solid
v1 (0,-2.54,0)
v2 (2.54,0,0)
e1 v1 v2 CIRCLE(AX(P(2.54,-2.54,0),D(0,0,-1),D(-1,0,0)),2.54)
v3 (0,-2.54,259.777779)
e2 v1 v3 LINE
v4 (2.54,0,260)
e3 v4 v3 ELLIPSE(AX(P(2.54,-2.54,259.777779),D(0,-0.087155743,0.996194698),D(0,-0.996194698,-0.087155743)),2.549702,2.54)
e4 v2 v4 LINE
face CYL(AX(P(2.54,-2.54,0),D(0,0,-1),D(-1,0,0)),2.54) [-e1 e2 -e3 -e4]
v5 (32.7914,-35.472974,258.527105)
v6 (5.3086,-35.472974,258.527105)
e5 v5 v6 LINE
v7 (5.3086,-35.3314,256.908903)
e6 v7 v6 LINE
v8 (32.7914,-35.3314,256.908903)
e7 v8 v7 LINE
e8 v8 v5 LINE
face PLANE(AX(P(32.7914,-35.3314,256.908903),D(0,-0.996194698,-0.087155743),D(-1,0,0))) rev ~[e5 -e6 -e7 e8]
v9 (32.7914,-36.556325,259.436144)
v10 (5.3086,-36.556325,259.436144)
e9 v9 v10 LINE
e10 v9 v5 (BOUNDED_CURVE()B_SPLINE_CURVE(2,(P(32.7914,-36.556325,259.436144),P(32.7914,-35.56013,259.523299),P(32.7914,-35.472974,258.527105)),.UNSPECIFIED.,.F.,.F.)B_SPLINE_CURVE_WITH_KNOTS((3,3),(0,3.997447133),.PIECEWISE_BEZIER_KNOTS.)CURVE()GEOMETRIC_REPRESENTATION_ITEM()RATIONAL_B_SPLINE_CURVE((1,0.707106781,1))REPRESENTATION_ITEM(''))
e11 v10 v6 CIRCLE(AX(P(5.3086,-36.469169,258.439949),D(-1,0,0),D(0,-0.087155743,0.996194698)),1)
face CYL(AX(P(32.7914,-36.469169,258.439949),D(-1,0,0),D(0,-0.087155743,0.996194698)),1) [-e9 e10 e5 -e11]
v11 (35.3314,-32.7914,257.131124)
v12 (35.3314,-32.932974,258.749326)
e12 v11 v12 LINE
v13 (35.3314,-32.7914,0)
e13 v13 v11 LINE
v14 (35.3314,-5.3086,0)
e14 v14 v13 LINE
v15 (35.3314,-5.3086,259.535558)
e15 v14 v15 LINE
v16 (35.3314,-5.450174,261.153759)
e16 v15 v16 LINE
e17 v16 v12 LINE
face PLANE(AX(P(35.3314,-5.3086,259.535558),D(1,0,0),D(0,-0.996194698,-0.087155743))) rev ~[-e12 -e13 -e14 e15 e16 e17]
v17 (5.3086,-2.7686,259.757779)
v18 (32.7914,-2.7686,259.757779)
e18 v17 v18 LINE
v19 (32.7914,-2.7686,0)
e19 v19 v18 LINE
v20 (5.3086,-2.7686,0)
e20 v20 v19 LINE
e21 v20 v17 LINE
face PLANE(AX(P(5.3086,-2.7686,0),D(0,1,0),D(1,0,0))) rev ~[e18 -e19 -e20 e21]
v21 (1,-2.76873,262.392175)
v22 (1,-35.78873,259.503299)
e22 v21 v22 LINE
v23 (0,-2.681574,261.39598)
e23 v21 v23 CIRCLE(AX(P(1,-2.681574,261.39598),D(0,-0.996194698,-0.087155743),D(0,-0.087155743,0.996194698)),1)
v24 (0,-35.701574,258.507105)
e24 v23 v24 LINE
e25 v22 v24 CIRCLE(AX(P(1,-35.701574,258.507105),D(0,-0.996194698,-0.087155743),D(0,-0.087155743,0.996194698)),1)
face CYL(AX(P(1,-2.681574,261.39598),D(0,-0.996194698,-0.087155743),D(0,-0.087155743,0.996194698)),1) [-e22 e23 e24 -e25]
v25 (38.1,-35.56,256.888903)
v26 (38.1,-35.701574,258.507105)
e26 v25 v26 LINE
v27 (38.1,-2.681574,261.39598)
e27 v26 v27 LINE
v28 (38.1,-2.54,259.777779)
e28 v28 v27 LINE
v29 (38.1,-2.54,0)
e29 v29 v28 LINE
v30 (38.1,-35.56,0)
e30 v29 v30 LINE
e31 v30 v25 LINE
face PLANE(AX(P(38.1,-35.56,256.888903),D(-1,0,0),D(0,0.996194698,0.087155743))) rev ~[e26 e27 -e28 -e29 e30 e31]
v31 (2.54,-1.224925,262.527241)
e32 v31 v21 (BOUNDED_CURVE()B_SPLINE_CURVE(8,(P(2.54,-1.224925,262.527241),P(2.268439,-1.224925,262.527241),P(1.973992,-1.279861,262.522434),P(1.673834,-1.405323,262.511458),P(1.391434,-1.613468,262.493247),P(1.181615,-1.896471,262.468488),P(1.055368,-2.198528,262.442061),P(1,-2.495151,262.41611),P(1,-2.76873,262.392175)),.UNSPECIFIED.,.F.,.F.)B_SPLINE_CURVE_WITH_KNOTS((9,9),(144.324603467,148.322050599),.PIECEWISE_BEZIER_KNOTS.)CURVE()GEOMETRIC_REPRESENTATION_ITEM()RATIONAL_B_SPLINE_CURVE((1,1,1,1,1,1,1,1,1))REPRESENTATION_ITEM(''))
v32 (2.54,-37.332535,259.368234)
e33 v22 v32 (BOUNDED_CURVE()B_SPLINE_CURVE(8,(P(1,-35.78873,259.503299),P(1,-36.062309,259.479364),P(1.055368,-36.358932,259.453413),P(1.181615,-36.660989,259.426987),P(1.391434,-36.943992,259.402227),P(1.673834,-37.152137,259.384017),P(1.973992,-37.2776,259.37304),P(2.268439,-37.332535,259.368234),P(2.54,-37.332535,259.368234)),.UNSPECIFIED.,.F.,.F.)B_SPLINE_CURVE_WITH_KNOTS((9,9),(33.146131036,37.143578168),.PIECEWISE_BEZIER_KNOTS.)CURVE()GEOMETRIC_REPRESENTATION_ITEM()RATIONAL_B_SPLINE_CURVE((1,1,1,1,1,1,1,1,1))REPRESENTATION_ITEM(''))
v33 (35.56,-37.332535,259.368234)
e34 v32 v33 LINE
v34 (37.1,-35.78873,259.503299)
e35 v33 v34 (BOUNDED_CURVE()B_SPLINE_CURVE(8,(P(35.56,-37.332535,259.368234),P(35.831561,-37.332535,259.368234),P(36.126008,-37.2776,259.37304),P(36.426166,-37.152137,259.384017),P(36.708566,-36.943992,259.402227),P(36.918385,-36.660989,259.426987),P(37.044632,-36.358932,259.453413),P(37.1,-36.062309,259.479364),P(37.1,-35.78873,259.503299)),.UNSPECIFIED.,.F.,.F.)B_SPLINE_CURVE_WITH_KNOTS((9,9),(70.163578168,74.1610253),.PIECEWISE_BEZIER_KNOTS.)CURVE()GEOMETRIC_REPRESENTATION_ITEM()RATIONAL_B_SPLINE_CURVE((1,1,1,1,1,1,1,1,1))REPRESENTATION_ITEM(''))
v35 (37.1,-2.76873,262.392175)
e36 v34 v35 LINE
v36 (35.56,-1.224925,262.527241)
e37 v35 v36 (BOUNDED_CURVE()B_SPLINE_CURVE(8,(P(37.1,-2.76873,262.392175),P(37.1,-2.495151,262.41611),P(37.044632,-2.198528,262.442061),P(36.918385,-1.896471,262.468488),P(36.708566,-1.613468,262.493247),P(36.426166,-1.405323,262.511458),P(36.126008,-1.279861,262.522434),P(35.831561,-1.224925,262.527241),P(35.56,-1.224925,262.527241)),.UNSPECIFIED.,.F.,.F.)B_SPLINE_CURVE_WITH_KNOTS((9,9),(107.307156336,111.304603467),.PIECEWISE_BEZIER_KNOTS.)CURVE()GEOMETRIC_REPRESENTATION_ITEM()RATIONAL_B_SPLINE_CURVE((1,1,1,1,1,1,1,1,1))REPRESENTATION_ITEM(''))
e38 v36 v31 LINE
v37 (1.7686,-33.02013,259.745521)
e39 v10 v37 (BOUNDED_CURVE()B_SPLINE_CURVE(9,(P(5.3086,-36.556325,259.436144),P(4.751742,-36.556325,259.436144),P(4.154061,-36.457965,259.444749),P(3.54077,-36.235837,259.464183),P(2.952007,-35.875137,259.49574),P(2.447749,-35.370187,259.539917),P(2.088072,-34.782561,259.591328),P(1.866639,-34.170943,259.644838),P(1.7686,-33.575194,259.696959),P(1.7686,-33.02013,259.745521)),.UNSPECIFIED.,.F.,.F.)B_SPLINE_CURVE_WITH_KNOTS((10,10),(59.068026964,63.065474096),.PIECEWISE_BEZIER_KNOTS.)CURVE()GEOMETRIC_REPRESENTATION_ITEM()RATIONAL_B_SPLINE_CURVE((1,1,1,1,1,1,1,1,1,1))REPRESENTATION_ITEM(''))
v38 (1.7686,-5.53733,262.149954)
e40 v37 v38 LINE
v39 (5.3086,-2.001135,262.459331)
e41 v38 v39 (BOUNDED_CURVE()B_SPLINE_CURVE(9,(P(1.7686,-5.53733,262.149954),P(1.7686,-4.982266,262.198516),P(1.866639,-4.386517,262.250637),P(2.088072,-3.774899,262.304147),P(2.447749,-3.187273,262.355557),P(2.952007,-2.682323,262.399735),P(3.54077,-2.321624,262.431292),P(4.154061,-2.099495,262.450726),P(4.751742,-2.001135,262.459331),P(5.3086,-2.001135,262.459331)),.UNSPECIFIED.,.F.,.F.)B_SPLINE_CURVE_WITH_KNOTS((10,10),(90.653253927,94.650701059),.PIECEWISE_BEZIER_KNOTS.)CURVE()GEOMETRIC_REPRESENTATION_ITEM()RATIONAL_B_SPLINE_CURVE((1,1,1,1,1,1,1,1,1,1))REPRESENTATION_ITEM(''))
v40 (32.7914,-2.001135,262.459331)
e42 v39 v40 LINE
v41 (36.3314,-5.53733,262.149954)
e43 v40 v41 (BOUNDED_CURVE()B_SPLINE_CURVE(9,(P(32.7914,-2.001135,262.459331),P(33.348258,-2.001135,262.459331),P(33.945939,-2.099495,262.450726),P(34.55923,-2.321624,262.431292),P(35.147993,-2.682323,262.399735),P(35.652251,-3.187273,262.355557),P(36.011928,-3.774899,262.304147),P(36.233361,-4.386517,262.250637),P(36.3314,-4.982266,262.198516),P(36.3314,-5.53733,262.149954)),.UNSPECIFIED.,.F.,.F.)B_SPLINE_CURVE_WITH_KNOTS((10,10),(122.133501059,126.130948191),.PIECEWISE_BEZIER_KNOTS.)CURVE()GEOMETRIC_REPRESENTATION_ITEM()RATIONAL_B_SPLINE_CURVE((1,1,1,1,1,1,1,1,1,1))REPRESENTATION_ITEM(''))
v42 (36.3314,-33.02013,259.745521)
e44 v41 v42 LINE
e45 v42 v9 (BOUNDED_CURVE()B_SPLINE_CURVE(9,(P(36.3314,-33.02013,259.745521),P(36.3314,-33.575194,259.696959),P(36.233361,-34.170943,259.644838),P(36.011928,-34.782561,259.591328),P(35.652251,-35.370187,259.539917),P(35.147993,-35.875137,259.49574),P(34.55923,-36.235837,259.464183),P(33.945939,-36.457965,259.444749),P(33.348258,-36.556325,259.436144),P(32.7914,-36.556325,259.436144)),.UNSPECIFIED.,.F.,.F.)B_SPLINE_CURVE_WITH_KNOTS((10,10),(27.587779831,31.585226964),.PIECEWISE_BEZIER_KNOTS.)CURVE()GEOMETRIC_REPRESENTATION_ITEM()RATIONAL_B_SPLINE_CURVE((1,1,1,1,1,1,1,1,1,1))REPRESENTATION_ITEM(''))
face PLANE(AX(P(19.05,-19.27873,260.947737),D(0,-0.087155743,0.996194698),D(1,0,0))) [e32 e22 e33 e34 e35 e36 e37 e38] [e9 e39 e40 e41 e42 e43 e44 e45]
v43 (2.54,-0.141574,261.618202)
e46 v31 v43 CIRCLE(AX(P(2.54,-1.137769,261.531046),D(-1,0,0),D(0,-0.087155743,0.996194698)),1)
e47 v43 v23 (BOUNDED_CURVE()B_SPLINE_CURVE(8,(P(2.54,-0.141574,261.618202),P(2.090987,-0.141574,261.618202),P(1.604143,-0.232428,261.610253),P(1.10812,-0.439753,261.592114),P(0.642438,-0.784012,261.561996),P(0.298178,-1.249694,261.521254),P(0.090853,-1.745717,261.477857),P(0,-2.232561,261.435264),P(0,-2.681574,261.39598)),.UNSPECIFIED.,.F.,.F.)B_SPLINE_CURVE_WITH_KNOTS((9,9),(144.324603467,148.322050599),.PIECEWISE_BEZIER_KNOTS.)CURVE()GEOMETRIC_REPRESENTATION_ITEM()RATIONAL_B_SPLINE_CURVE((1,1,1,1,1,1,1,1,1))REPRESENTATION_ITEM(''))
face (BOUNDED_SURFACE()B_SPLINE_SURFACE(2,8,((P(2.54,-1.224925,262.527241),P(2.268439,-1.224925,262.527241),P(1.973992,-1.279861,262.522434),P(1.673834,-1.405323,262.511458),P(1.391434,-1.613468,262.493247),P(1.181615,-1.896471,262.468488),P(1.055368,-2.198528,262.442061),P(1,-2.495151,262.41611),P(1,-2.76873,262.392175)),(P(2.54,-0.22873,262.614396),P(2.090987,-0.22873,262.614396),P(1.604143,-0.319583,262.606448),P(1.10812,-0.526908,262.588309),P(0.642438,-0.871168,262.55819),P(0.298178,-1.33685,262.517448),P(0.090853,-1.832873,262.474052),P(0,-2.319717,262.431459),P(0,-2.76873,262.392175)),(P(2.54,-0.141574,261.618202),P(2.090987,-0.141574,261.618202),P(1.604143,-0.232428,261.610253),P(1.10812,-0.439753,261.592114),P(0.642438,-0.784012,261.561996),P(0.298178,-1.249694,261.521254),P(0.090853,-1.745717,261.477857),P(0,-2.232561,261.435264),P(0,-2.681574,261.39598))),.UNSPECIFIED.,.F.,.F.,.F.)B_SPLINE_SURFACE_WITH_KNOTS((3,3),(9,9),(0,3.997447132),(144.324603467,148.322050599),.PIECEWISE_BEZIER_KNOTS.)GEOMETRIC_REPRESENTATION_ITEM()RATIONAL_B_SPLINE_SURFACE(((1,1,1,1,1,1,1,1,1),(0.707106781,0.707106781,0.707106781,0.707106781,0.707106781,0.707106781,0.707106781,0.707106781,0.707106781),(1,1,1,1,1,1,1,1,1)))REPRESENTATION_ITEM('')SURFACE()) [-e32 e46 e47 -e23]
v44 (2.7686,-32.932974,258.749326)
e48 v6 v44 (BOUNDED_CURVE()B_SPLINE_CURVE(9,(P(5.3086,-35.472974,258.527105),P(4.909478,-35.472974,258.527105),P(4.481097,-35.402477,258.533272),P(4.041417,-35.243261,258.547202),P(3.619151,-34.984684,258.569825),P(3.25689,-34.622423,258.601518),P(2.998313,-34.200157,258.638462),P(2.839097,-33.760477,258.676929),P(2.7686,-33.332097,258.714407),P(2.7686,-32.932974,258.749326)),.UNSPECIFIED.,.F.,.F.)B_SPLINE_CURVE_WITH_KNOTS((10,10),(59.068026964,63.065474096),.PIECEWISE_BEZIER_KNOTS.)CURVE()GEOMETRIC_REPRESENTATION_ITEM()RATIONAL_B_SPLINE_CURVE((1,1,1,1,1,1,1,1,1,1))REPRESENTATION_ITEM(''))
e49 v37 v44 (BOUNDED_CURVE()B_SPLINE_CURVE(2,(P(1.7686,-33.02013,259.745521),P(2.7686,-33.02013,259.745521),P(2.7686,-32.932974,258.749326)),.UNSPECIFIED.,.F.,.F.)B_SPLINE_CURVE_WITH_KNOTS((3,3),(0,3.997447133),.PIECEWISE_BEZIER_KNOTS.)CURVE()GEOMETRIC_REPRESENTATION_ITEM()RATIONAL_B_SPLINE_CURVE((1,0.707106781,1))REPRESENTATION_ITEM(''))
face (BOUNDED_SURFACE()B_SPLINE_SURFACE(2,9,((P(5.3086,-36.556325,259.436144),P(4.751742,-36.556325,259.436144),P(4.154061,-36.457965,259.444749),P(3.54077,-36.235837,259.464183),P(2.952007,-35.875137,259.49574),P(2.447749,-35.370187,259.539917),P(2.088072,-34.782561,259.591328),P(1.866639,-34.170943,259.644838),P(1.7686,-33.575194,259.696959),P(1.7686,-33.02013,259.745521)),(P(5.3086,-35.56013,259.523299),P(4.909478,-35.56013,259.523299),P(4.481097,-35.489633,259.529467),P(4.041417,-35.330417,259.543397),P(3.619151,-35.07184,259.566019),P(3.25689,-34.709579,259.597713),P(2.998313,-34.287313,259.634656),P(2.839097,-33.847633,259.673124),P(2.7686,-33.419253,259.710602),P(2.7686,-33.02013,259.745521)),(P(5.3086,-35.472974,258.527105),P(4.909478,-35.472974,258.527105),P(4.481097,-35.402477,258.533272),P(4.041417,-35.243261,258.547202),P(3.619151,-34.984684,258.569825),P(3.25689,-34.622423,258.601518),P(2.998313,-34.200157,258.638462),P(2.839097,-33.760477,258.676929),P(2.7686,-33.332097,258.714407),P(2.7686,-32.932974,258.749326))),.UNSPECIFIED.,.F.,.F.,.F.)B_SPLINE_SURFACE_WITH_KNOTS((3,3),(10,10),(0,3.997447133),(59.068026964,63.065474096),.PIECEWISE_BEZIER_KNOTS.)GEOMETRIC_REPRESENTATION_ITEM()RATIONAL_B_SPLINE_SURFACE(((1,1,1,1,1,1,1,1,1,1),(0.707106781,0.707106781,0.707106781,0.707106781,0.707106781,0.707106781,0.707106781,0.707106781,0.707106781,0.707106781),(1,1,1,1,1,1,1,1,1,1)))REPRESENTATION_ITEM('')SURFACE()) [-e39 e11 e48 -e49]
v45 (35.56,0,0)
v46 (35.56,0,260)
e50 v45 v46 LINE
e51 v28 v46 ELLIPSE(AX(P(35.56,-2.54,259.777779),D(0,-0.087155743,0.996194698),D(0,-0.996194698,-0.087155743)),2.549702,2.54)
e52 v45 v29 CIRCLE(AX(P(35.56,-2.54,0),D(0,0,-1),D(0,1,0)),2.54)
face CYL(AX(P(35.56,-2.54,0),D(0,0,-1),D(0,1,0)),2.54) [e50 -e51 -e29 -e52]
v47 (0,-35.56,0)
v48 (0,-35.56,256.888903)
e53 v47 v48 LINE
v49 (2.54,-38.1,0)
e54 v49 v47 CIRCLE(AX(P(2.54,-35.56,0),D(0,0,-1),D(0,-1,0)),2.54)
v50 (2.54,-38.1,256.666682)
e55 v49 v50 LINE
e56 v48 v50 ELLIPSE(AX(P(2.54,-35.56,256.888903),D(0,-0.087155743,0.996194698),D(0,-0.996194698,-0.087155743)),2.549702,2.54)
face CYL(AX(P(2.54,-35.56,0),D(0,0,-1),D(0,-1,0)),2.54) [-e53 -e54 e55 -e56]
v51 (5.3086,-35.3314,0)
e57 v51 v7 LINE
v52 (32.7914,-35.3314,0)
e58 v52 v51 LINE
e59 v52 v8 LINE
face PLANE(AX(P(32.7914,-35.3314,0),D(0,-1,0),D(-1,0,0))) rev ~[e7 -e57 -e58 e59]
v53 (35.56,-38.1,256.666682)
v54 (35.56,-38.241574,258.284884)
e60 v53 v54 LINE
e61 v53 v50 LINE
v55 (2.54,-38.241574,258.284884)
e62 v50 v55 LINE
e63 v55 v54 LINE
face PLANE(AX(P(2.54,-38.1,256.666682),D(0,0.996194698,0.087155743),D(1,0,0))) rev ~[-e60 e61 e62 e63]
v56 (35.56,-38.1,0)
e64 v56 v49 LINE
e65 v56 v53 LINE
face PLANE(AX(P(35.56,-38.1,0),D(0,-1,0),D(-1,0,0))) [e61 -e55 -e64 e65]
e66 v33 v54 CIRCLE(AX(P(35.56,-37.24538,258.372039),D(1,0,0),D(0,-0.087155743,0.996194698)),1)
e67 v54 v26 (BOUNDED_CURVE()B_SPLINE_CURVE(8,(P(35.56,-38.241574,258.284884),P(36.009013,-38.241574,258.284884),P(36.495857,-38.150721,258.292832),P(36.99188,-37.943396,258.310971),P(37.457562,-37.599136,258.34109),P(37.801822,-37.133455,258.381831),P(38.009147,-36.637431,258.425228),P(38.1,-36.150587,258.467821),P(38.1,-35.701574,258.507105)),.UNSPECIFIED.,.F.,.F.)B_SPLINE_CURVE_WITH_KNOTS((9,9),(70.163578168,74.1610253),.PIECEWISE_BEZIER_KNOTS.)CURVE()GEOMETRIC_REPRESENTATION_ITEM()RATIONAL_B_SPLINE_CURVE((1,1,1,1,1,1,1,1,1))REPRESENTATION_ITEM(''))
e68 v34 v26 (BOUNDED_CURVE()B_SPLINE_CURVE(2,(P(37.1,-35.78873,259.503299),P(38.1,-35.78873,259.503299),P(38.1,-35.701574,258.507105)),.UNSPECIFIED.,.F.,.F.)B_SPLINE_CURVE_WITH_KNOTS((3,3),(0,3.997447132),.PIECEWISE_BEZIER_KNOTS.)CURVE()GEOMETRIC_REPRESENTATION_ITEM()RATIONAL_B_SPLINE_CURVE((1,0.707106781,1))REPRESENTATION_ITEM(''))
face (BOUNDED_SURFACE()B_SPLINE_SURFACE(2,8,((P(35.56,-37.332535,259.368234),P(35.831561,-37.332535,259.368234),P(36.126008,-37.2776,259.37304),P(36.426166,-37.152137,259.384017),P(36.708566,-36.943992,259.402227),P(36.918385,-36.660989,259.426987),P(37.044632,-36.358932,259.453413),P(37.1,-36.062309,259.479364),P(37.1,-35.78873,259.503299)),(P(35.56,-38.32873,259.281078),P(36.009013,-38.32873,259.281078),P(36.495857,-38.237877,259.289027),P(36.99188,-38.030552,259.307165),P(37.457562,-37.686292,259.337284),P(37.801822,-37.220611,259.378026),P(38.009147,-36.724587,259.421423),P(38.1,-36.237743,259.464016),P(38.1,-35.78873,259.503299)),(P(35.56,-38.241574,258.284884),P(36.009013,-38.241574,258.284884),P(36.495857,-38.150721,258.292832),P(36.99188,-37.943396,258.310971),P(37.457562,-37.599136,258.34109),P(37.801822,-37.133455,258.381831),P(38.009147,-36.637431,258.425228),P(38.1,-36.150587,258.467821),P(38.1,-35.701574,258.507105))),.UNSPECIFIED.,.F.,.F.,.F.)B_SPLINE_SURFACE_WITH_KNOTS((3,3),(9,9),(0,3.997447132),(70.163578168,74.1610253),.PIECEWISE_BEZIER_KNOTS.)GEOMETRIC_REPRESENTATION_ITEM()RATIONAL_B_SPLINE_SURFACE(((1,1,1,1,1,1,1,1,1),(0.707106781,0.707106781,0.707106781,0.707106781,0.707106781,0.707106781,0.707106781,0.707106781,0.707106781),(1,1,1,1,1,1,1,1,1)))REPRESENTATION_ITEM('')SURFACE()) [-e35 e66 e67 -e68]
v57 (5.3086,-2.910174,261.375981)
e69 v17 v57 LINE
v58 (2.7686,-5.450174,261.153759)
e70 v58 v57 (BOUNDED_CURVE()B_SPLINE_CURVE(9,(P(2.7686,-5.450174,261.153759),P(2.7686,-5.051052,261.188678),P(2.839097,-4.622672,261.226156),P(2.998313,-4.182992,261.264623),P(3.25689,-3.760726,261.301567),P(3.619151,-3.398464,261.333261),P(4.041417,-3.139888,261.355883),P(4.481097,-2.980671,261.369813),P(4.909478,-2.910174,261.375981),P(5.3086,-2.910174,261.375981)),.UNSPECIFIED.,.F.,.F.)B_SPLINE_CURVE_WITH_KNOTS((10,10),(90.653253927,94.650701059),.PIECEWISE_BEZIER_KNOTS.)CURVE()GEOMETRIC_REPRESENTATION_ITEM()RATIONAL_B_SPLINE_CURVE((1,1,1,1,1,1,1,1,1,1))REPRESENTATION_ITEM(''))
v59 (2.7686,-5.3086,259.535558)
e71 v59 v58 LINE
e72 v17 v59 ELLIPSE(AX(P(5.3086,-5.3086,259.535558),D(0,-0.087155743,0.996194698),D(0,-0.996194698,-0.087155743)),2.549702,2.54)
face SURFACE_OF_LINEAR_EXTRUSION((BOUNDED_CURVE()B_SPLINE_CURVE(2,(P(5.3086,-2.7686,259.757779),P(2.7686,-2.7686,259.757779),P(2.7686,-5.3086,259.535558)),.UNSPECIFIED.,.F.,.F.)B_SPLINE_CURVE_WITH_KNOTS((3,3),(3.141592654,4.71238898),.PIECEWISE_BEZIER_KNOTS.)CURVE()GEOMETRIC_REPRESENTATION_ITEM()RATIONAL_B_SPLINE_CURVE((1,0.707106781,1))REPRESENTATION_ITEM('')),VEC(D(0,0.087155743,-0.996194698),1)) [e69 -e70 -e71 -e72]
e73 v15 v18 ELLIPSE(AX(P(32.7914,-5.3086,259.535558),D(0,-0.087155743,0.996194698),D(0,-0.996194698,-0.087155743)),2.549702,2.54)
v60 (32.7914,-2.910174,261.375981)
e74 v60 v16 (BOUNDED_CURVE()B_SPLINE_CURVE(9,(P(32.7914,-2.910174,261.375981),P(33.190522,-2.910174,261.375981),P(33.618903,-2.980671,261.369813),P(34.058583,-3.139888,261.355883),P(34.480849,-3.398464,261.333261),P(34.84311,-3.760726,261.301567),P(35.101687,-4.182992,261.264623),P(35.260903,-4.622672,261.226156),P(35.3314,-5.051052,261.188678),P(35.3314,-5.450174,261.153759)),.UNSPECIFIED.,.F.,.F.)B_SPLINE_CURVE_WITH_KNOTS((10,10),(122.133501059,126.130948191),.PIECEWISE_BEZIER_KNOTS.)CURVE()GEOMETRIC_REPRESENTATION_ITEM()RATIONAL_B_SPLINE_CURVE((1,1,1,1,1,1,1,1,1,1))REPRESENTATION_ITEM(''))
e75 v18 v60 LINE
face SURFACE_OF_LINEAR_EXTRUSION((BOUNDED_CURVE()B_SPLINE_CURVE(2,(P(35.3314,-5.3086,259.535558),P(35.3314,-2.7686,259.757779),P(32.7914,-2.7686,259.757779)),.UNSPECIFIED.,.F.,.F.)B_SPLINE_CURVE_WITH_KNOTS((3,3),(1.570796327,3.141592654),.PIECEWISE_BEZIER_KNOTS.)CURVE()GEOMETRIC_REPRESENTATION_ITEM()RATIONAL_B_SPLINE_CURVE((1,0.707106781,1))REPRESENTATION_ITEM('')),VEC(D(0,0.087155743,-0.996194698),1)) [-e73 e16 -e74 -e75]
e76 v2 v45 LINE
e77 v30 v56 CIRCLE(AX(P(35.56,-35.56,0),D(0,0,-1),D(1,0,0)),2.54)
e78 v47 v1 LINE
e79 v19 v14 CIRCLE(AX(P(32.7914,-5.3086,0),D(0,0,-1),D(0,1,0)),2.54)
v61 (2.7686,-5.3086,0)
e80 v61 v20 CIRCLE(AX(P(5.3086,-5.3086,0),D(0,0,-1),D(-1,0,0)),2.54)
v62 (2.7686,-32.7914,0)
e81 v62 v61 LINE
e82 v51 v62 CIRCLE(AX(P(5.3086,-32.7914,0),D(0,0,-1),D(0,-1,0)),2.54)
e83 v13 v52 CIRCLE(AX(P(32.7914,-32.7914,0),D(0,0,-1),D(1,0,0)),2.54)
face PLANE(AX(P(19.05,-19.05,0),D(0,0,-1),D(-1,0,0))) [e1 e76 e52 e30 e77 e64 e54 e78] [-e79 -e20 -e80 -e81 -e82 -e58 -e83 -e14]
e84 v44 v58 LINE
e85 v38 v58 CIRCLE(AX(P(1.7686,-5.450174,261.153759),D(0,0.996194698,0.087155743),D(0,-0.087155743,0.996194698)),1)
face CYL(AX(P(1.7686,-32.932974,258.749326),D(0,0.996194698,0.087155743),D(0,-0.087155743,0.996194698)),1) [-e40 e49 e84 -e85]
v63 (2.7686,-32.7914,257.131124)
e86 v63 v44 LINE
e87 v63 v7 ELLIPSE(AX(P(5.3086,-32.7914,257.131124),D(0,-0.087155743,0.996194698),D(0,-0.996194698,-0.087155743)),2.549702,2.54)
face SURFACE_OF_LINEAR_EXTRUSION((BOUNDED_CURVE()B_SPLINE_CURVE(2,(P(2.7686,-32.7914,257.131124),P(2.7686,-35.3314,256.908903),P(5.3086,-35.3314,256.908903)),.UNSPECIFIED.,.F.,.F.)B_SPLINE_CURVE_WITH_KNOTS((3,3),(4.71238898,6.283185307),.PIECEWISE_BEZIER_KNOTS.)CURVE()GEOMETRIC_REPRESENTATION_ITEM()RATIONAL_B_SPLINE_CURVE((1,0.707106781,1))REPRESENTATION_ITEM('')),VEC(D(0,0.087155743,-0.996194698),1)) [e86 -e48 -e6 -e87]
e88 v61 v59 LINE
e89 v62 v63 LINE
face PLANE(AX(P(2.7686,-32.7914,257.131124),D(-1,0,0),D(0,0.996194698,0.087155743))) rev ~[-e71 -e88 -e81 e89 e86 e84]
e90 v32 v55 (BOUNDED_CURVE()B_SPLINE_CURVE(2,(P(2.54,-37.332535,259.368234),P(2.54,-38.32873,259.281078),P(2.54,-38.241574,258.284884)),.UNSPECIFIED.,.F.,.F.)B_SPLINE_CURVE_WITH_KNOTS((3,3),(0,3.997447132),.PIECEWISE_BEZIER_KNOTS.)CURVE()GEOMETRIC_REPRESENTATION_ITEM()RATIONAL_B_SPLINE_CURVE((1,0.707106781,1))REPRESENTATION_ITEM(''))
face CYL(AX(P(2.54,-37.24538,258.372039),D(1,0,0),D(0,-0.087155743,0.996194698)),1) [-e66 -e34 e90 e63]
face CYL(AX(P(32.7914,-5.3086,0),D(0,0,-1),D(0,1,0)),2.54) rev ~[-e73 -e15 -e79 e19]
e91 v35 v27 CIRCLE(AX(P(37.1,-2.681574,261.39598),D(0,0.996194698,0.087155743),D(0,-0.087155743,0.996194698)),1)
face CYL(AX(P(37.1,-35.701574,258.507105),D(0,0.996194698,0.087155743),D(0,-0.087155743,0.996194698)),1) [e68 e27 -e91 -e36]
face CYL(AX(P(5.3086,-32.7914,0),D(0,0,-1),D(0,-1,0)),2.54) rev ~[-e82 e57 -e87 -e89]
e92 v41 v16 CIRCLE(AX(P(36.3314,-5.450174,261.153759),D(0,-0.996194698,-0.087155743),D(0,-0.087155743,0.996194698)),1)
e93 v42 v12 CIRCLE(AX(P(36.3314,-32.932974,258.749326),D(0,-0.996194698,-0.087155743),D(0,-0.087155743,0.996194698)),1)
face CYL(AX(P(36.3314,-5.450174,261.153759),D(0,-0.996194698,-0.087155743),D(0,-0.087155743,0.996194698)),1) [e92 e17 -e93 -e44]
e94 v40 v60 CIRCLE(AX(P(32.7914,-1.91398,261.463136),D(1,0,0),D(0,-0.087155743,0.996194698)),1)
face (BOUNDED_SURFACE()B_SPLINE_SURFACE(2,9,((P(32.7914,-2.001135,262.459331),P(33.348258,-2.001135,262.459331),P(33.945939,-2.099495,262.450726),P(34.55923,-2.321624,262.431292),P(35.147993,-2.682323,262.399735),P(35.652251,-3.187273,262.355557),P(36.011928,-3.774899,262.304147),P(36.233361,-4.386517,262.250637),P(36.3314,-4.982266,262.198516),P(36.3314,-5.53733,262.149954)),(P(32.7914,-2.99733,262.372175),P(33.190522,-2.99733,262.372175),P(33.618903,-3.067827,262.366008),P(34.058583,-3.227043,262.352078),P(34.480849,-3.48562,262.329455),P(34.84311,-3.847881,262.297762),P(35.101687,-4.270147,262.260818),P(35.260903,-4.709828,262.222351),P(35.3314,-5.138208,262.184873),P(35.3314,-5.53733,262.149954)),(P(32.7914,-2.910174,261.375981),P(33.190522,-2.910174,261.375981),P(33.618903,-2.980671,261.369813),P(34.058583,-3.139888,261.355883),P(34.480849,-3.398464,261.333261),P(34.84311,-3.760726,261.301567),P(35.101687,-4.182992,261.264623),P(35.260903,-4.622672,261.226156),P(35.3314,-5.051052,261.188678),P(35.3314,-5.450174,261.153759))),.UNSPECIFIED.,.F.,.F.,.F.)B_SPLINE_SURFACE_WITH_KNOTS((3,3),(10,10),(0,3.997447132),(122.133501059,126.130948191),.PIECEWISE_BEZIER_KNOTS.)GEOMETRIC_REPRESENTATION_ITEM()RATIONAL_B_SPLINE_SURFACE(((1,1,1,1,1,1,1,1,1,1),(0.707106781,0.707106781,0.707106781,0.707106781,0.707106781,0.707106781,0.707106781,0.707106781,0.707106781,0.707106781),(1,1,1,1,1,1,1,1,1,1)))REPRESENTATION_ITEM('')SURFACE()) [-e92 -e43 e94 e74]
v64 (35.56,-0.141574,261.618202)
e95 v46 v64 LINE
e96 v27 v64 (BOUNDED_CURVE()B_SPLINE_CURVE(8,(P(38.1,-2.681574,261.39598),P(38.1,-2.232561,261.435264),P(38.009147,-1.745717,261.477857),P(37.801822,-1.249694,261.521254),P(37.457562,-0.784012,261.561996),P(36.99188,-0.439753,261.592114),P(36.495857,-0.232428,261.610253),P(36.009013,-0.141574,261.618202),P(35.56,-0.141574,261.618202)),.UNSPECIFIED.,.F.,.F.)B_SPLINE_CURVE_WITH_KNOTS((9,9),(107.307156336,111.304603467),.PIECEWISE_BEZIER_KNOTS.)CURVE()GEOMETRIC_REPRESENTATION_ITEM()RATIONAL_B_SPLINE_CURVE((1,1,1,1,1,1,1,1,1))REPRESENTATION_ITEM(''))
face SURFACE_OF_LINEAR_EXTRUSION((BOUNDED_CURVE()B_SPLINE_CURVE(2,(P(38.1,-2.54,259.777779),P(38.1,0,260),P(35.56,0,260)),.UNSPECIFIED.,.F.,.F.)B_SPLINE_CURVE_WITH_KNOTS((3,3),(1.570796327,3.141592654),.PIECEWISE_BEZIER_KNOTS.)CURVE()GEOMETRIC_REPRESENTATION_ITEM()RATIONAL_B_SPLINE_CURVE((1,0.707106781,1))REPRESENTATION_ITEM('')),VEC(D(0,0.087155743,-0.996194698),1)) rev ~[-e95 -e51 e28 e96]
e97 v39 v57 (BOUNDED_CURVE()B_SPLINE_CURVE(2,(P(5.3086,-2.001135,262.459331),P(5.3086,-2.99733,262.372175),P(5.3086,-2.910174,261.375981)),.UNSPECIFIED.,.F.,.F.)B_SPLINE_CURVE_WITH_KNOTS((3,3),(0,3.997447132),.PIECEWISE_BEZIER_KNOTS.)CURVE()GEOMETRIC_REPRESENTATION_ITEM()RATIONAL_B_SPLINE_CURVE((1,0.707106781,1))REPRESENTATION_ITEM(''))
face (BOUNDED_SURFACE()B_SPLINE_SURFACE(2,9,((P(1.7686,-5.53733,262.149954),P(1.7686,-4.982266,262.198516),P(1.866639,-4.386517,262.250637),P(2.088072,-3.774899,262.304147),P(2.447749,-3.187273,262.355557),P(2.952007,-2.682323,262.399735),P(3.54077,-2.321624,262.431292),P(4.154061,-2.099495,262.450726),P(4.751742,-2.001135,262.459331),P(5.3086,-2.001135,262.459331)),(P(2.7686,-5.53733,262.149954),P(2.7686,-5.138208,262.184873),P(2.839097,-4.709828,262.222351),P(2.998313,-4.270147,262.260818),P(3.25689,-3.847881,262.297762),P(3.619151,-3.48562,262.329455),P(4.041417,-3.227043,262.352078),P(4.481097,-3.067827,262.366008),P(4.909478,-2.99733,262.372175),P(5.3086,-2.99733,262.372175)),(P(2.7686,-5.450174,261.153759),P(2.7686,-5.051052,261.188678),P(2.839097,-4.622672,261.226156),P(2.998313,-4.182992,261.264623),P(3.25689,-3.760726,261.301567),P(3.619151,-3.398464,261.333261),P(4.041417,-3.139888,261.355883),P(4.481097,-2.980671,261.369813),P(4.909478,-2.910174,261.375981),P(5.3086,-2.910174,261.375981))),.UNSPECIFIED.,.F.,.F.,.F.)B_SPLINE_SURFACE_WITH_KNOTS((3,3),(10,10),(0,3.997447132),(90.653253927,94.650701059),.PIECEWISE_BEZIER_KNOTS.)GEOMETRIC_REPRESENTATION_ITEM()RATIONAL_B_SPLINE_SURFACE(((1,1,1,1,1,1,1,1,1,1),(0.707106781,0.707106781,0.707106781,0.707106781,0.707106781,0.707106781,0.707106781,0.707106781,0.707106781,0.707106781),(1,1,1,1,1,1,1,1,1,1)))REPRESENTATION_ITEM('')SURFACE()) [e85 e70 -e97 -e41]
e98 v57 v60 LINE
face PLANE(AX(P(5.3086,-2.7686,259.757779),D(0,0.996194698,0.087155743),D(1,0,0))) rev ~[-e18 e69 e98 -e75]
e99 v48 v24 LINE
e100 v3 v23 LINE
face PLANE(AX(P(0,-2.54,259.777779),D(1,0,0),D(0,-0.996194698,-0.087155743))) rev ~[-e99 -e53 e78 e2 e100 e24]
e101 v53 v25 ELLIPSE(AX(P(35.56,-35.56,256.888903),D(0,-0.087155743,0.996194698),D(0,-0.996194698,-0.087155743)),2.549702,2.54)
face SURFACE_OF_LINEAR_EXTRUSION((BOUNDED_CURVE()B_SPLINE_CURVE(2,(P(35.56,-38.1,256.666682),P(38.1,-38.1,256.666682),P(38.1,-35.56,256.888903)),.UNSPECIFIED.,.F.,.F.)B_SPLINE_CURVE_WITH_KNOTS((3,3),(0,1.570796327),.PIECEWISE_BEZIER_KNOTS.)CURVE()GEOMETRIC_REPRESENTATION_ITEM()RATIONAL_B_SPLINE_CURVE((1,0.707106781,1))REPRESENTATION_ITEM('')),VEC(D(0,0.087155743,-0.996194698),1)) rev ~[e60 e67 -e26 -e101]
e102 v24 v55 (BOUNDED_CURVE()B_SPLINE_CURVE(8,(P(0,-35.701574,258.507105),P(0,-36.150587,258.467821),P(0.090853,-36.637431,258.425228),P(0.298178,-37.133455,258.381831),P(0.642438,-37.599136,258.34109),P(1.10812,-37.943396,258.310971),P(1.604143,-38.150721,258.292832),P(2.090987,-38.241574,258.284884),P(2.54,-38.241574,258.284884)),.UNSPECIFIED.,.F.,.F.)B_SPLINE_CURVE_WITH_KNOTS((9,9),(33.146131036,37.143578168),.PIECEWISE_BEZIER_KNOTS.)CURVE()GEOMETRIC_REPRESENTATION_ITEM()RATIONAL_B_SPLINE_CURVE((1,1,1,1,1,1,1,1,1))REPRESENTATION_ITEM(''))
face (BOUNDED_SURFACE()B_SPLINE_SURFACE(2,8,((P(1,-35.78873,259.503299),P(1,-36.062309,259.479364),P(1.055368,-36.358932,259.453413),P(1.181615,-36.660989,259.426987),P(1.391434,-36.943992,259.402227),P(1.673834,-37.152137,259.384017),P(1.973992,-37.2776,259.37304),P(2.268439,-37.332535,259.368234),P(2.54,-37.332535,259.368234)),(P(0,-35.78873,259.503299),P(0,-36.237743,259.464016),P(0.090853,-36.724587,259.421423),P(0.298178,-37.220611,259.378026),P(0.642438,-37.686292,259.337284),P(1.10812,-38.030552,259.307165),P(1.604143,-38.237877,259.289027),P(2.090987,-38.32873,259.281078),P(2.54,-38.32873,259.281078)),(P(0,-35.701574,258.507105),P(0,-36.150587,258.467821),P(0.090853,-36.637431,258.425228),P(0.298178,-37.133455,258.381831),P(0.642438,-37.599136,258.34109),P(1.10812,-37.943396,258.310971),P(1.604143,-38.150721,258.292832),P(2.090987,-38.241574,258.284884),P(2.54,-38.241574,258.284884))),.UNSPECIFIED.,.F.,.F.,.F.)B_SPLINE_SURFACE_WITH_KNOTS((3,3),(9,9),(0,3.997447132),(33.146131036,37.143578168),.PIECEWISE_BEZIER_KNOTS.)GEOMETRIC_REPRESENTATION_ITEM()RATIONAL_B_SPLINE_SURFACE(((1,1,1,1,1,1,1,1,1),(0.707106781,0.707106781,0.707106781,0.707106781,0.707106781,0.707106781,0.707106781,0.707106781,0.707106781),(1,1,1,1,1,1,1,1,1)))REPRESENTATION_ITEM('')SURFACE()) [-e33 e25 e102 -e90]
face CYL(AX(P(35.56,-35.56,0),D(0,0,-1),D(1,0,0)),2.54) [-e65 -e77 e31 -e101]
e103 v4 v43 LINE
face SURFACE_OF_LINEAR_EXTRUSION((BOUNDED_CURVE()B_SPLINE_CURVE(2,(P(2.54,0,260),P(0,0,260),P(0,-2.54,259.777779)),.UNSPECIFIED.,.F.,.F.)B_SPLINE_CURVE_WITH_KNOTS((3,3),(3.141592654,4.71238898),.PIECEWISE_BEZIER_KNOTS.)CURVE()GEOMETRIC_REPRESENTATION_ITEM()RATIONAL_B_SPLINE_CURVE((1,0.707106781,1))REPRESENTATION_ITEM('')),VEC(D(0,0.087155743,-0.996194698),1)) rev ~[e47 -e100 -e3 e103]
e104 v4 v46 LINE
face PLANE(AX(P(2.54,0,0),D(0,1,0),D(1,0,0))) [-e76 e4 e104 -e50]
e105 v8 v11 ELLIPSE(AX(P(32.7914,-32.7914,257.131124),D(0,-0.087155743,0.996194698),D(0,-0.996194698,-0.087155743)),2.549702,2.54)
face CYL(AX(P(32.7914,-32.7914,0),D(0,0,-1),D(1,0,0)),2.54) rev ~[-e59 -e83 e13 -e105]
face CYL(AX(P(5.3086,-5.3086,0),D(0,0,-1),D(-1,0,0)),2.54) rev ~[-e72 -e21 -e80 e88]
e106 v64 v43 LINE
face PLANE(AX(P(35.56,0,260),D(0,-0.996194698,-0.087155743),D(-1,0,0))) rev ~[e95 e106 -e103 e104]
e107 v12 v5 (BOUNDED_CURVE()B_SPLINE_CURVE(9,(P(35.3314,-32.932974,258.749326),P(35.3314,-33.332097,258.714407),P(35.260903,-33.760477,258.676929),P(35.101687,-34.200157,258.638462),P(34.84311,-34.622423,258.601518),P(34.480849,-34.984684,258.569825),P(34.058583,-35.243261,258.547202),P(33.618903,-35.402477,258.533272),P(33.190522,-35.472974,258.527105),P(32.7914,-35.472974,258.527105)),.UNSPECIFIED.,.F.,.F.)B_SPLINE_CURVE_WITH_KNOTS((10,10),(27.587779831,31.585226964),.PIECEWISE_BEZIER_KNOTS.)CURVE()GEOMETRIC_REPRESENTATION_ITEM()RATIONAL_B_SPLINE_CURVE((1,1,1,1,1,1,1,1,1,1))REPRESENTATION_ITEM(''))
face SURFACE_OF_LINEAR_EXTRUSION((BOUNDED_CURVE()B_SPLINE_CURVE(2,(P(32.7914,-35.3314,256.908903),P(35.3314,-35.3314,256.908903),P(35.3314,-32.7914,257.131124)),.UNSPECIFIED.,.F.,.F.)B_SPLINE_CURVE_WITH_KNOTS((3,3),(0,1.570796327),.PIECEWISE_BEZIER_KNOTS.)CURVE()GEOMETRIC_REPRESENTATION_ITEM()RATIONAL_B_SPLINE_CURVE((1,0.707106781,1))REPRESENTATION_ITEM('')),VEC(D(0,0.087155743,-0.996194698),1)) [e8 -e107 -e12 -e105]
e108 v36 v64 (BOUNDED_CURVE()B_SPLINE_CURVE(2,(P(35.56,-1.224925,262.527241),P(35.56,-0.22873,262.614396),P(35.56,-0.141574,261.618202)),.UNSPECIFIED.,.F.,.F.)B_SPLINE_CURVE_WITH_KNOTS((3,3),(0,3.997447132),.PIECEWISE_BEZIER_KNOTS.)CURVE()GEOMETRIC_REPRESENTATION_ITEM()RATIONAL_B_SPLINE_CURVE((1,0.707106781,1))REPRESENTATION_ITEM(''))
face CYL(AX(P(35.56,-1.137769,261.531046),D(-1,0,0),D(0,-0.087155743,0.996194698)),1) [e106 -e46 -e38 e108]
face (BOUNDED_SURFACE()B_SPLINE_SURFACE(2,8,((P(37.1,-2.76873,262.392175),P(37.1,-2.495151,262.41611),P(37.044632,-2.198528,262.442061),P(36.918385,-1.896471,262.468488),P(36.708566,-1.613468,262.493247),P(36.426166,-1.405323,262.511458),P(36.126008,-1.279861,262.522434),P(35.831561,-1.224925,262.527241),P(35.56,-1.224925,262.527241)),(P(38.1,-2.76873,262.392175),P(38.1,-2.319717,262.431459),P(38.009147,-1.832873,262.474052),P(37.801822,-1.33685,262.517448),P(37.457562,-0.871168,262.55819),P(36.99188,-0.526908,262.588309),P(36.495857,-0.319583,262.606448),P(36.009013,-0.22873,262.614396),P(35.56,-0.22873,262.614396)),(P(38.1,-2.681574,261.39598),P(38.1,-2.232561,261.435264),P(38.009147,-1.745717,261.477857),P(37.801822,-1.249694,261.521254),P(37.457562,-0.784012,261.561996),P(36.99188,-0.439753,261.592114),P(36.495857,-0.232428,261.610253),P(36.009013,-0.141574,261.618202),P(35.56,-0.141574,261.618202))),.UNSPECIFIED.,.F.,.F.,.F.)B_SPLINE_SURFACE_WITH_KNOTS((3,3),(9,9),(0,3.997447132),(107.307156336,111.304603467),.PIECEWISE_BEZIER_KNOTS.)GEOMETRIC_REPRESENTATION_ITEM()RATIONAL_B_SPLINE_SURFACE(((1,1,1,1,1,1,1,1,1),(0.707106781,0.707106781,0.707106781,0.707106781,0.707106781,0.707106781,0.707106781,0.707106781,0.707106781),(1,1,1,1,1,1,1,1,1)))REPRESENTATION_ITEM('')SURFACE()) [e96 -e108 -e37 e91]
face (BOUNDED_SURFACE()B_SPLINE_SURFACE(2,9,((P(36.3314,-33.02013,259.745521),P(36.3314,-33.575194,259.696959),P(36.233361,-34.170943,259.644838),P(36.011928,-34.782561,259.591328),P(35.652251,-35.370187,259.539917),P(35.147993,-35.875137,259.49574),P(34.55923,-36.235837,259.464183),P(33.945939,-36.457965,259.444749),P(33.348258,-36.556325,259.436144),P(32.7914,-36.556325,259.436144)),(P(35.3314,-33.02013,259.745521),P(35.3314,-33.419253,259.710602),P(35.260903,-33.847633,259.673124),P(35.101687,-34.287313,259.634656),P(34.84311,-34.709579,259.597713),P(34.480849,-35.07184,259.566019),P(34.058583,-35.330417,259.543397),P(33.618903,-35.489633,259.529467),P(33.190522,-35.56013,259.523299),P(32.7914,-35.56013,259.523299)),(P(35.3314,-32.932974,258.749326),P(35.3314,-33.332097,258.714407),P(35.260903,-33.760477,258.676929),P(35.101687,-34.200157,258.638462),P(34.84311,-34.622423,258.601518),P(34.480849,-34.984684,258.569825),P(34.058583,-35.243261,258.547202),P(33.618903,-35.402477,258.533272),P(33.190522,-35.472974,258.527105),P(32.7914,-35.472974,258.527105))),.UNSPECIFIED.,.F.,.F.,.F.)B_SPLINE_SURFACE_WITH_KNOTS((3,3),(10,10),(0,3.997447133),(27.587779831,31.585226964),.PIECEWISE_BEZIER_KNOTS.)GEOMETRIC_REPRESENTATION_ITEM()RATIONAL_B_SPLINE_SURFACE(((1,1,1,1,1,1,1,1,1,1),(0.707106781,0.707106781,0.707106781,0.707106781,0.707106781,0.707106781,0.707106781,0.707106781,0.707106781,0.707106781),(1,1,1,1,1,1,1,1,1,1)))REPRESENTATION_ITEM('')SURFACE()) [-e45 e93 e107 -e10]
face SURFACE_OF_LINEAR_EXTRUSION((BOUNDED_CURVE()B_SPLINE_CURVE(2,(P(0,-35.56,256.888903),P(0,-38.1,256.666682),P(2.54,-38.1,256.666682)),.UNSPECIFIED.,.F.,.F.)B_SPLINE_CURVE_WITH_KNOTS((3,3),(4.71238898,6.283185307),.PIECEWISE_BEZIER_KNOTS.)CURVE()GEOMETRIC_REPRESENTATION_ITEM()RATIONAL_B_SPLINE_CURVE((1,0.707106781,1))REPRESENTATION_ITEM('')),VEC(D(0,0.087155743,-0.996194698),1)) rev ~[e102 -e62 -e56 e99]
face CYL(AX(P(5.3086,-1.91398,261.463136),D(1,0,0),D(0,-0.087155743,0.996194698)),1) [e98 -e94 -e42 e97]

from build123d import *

# Parameters (mm, degrees)
BOSS_EXTRUDE1_DEPTH = 260
CUT_EXTRUDE1_DEPTH  = 266.524424489
BOSS_EXTRUDE2_DEPTH = 2.624382921
FILLET1_R           = 1


with BuildPart() as part:
    # Sketch1 → Boss-Extrude1 (new body)
    with BuildSketch(Plane.XY):
        with BuildLine():
            Line((2.54, 0), (35.56, 0))
            ThreePointArc((35.56, 0), (37.356051224, -0.743948776), (38.1, -2.54))
            Line((38.1, -2.54), (38.1, -35.56))
            ThreePointArc((38.1, -35.56), (37.356051224, -37.356051224), (35.56, -38.1))
            Line((35.56, -38.1), (2.54, -38.1))
            ThreePointArc((2.54, -38.1), (0.743948776, -37.356051224), (0, -35.56))
            Line((0, -35.56), (0, -2.54))
            ThreePointArc((0, -2.54), (0.743948776, -0.743948776), (2.54, 0))
        make_face()
        with BuildLine():
            Line((5.3086, -2.7686), (32.7914, -2.7686))
            ThreePointArc((32.7914, -2.7686), (34.587451224, -3.512548776), (35.3314, -5.3086))
            Line((35.3314, -5.3086), (35.3314, -32.7914))
            ThreePointArc((35.3314, -32.7914), (34.587451224, -34.587451224), (32.7914, -35.3314))
            Line((32.7914, -35.3314), (5.3086, -35.3314))
            ThreePointArc((5.3086, -35.3314), (3.512548776, -34.587451224), (2.7686, -32.7914))
            Line((2.7686, -32.7914), (2.7686, -5.3086))
            ThreePointArc((2.7686, -5.3086), (3.512548776, -3.512548776), (5.3086, -2.7686))
        make_face(mode=Mode.SUBTRACT)
    extrude(amount=BOSS_EXTRUDE1_DEPTH)

    # Sketch2 → Cut-Extrude1 (cut, through all)
    with BuildSketch(Plane(origin=(38.1, 0, 0), x_dir=(0, 0, -1), z_dir=(1, 0, 0))):
        Polygon((-260, 0), (-256.66668192, -38.1), (-260, -38.1), align=None)
    extrude(amount=-CUT_EXTRUDE1_DEPTH, mode=Mode.SUBTRACT)

    # Sketch3 → Boss-Extrude2 (add)
    with BuildSketch(Plane(origin=(0, -22.574263097, 258.025007892), x_dir=(1, 0, 0), z_dir=(0, -0.08715574274765835, 0.9961946980917457))):
        with BuildLine():
            Line((2.54, -15.585042696), (35.56, -15.585042696))
            add(Edge.make_bspline(
                [(35.56, -15.585042696), (38.1, -15.585042696), (38.1, -13.035340309)],
                knots=[0, 0, 0, 1.570796327, 1.570796327, 1.570796327], degree=2, weights=[1, 0.707106781, 1]))
            Line((38.1, -13.035340309), (38.1, 20.110790727))
            add(Edge.make_bspline(
                [(38.1, 20.110790727), (38.1, 22.660493114), (35.56, 22.660493114)],
                knots=[1.570796327, 1.570796327, 1.570796327, 3.141592654, 3.141592654, 3.141592654], degree=2, weights=[1, 0.707106781, 1]))
            Line((35.56, 22.660493114), (2.54, 22.660493114))
            add(Edge.make_bspline(
                [(2.54, 22.660493114), (0, 22.660493114), (0, 20.110790727)],
                knots=[3.141592654, 3.141592654, 3.141592654, 4.71238898, 4.71238898, 4.71238898], degree=2, weights=[1, 0.707106781, 1]))
            Line((0, 20.110790727), (0, -13.035340309))
            add(Edge.make_bspline(
                [(0, -13.035340309), (0, -15.585042696), (2.54, -15.585042696)],
                knots=[4.71238898, 4.71238898, 4.71238898, 6.283185307, 6.283185307, 6.283185307], degree=2, weights=[1, 0.707106781, 1]))
        make_face()
        with BuildLine():
            Line((35.3314, 17.331615125), (35.3314, -10.256164706))
            add(Edge.make_bspline(
                [(32.7914, -12.805867094), (35.3314, -12.805867094), (35.3314, -10.256164706)],
                knots=[0, 0, 0, 1.570796327, 1.570796327, 1.570796327], degree=2, weights=[1, 0.707106781, 1]))
            Line((32.7914, -12.805867094), (5.3086, -12.805867094))
            add(Edge.make_bspline(
                [(2.7686, -10.256164706), (2.7686, -12.805867094), (5.3086, -12.805867094)],
                knots=[4.71238898, 4.71238898, 4.71238898, 6.283185307, 6.283185307, 6.283185307], degree=2, weights=[1, 0.707106781, 1]))
            Line((2.7686, -10.256164706), (2.7686, 17.331615125))
            add(Edge.make_bspline(
                [(5.3086, 19.881317512), (2.7686, 19.881317512), (2.7686, 17.331615125)],
                knots=[3.141592654, 3.141592654, 3.141592654, 4.71238898, 4.71238898, 4.71238898], degree=2, weights=[1, 0.707106781, 1]))
            Line((5.3086, 19.881317512), (32.7914, 19.881317512))
            add(Edge.make_bspline(
                [(35.3314, 17.331615125), (35.3314, 19.881317512), (32.7914, 19.881317512)],
                knots=[1.570796327, 1.570796327, 1.570796327, 3.141592654, 3.141592654, 3.141592654], degree=2, weights=[1, 0.707106781, 1]))
        make_face(mode=Mode.SUBTRACT)
    extrude(amount=BOSS_EXTRUDE2_DEPTH)

    # Fillet1
    fillet1_edges = [part.edges().sort_by_distance(p)[0] for p in [
        (35.3314, -19.278730043, 260.947737311),
        (34.589162497, -34.814468363, 259.588536329),
        (19.05, -35.560130043, 259.523299385),
        (3.510837922, -34.814468782, 259.588536292),
        (2.7686, -19.278730043, 260.947737311),
        (3.510837503, -3.742991723, 262.306938294),
        (19.05, -2.997330043, 262.372175238),
        (34.589162078, -3.742991304, 262.306938331),
        (0, -19.278730043, 260.947737311),
        (0.742237922, -37.583068782, 259.346315178),
        (19.05, -38.328730043, 259.281078271),
        (37.357762497, -37.583068363, 259.346315215),
        (38.1, -19.278730043, 260.947737311),
        (37.357762078, -0.974391304, 262.549159445),
        (19.05, -0.228730043, 262.614396352),
        (0.742237503, -0.974391723, 262.549159408),
    ]]
    fillet(fillet1_edges, radius=FILLET1_R)


solid = part.part
